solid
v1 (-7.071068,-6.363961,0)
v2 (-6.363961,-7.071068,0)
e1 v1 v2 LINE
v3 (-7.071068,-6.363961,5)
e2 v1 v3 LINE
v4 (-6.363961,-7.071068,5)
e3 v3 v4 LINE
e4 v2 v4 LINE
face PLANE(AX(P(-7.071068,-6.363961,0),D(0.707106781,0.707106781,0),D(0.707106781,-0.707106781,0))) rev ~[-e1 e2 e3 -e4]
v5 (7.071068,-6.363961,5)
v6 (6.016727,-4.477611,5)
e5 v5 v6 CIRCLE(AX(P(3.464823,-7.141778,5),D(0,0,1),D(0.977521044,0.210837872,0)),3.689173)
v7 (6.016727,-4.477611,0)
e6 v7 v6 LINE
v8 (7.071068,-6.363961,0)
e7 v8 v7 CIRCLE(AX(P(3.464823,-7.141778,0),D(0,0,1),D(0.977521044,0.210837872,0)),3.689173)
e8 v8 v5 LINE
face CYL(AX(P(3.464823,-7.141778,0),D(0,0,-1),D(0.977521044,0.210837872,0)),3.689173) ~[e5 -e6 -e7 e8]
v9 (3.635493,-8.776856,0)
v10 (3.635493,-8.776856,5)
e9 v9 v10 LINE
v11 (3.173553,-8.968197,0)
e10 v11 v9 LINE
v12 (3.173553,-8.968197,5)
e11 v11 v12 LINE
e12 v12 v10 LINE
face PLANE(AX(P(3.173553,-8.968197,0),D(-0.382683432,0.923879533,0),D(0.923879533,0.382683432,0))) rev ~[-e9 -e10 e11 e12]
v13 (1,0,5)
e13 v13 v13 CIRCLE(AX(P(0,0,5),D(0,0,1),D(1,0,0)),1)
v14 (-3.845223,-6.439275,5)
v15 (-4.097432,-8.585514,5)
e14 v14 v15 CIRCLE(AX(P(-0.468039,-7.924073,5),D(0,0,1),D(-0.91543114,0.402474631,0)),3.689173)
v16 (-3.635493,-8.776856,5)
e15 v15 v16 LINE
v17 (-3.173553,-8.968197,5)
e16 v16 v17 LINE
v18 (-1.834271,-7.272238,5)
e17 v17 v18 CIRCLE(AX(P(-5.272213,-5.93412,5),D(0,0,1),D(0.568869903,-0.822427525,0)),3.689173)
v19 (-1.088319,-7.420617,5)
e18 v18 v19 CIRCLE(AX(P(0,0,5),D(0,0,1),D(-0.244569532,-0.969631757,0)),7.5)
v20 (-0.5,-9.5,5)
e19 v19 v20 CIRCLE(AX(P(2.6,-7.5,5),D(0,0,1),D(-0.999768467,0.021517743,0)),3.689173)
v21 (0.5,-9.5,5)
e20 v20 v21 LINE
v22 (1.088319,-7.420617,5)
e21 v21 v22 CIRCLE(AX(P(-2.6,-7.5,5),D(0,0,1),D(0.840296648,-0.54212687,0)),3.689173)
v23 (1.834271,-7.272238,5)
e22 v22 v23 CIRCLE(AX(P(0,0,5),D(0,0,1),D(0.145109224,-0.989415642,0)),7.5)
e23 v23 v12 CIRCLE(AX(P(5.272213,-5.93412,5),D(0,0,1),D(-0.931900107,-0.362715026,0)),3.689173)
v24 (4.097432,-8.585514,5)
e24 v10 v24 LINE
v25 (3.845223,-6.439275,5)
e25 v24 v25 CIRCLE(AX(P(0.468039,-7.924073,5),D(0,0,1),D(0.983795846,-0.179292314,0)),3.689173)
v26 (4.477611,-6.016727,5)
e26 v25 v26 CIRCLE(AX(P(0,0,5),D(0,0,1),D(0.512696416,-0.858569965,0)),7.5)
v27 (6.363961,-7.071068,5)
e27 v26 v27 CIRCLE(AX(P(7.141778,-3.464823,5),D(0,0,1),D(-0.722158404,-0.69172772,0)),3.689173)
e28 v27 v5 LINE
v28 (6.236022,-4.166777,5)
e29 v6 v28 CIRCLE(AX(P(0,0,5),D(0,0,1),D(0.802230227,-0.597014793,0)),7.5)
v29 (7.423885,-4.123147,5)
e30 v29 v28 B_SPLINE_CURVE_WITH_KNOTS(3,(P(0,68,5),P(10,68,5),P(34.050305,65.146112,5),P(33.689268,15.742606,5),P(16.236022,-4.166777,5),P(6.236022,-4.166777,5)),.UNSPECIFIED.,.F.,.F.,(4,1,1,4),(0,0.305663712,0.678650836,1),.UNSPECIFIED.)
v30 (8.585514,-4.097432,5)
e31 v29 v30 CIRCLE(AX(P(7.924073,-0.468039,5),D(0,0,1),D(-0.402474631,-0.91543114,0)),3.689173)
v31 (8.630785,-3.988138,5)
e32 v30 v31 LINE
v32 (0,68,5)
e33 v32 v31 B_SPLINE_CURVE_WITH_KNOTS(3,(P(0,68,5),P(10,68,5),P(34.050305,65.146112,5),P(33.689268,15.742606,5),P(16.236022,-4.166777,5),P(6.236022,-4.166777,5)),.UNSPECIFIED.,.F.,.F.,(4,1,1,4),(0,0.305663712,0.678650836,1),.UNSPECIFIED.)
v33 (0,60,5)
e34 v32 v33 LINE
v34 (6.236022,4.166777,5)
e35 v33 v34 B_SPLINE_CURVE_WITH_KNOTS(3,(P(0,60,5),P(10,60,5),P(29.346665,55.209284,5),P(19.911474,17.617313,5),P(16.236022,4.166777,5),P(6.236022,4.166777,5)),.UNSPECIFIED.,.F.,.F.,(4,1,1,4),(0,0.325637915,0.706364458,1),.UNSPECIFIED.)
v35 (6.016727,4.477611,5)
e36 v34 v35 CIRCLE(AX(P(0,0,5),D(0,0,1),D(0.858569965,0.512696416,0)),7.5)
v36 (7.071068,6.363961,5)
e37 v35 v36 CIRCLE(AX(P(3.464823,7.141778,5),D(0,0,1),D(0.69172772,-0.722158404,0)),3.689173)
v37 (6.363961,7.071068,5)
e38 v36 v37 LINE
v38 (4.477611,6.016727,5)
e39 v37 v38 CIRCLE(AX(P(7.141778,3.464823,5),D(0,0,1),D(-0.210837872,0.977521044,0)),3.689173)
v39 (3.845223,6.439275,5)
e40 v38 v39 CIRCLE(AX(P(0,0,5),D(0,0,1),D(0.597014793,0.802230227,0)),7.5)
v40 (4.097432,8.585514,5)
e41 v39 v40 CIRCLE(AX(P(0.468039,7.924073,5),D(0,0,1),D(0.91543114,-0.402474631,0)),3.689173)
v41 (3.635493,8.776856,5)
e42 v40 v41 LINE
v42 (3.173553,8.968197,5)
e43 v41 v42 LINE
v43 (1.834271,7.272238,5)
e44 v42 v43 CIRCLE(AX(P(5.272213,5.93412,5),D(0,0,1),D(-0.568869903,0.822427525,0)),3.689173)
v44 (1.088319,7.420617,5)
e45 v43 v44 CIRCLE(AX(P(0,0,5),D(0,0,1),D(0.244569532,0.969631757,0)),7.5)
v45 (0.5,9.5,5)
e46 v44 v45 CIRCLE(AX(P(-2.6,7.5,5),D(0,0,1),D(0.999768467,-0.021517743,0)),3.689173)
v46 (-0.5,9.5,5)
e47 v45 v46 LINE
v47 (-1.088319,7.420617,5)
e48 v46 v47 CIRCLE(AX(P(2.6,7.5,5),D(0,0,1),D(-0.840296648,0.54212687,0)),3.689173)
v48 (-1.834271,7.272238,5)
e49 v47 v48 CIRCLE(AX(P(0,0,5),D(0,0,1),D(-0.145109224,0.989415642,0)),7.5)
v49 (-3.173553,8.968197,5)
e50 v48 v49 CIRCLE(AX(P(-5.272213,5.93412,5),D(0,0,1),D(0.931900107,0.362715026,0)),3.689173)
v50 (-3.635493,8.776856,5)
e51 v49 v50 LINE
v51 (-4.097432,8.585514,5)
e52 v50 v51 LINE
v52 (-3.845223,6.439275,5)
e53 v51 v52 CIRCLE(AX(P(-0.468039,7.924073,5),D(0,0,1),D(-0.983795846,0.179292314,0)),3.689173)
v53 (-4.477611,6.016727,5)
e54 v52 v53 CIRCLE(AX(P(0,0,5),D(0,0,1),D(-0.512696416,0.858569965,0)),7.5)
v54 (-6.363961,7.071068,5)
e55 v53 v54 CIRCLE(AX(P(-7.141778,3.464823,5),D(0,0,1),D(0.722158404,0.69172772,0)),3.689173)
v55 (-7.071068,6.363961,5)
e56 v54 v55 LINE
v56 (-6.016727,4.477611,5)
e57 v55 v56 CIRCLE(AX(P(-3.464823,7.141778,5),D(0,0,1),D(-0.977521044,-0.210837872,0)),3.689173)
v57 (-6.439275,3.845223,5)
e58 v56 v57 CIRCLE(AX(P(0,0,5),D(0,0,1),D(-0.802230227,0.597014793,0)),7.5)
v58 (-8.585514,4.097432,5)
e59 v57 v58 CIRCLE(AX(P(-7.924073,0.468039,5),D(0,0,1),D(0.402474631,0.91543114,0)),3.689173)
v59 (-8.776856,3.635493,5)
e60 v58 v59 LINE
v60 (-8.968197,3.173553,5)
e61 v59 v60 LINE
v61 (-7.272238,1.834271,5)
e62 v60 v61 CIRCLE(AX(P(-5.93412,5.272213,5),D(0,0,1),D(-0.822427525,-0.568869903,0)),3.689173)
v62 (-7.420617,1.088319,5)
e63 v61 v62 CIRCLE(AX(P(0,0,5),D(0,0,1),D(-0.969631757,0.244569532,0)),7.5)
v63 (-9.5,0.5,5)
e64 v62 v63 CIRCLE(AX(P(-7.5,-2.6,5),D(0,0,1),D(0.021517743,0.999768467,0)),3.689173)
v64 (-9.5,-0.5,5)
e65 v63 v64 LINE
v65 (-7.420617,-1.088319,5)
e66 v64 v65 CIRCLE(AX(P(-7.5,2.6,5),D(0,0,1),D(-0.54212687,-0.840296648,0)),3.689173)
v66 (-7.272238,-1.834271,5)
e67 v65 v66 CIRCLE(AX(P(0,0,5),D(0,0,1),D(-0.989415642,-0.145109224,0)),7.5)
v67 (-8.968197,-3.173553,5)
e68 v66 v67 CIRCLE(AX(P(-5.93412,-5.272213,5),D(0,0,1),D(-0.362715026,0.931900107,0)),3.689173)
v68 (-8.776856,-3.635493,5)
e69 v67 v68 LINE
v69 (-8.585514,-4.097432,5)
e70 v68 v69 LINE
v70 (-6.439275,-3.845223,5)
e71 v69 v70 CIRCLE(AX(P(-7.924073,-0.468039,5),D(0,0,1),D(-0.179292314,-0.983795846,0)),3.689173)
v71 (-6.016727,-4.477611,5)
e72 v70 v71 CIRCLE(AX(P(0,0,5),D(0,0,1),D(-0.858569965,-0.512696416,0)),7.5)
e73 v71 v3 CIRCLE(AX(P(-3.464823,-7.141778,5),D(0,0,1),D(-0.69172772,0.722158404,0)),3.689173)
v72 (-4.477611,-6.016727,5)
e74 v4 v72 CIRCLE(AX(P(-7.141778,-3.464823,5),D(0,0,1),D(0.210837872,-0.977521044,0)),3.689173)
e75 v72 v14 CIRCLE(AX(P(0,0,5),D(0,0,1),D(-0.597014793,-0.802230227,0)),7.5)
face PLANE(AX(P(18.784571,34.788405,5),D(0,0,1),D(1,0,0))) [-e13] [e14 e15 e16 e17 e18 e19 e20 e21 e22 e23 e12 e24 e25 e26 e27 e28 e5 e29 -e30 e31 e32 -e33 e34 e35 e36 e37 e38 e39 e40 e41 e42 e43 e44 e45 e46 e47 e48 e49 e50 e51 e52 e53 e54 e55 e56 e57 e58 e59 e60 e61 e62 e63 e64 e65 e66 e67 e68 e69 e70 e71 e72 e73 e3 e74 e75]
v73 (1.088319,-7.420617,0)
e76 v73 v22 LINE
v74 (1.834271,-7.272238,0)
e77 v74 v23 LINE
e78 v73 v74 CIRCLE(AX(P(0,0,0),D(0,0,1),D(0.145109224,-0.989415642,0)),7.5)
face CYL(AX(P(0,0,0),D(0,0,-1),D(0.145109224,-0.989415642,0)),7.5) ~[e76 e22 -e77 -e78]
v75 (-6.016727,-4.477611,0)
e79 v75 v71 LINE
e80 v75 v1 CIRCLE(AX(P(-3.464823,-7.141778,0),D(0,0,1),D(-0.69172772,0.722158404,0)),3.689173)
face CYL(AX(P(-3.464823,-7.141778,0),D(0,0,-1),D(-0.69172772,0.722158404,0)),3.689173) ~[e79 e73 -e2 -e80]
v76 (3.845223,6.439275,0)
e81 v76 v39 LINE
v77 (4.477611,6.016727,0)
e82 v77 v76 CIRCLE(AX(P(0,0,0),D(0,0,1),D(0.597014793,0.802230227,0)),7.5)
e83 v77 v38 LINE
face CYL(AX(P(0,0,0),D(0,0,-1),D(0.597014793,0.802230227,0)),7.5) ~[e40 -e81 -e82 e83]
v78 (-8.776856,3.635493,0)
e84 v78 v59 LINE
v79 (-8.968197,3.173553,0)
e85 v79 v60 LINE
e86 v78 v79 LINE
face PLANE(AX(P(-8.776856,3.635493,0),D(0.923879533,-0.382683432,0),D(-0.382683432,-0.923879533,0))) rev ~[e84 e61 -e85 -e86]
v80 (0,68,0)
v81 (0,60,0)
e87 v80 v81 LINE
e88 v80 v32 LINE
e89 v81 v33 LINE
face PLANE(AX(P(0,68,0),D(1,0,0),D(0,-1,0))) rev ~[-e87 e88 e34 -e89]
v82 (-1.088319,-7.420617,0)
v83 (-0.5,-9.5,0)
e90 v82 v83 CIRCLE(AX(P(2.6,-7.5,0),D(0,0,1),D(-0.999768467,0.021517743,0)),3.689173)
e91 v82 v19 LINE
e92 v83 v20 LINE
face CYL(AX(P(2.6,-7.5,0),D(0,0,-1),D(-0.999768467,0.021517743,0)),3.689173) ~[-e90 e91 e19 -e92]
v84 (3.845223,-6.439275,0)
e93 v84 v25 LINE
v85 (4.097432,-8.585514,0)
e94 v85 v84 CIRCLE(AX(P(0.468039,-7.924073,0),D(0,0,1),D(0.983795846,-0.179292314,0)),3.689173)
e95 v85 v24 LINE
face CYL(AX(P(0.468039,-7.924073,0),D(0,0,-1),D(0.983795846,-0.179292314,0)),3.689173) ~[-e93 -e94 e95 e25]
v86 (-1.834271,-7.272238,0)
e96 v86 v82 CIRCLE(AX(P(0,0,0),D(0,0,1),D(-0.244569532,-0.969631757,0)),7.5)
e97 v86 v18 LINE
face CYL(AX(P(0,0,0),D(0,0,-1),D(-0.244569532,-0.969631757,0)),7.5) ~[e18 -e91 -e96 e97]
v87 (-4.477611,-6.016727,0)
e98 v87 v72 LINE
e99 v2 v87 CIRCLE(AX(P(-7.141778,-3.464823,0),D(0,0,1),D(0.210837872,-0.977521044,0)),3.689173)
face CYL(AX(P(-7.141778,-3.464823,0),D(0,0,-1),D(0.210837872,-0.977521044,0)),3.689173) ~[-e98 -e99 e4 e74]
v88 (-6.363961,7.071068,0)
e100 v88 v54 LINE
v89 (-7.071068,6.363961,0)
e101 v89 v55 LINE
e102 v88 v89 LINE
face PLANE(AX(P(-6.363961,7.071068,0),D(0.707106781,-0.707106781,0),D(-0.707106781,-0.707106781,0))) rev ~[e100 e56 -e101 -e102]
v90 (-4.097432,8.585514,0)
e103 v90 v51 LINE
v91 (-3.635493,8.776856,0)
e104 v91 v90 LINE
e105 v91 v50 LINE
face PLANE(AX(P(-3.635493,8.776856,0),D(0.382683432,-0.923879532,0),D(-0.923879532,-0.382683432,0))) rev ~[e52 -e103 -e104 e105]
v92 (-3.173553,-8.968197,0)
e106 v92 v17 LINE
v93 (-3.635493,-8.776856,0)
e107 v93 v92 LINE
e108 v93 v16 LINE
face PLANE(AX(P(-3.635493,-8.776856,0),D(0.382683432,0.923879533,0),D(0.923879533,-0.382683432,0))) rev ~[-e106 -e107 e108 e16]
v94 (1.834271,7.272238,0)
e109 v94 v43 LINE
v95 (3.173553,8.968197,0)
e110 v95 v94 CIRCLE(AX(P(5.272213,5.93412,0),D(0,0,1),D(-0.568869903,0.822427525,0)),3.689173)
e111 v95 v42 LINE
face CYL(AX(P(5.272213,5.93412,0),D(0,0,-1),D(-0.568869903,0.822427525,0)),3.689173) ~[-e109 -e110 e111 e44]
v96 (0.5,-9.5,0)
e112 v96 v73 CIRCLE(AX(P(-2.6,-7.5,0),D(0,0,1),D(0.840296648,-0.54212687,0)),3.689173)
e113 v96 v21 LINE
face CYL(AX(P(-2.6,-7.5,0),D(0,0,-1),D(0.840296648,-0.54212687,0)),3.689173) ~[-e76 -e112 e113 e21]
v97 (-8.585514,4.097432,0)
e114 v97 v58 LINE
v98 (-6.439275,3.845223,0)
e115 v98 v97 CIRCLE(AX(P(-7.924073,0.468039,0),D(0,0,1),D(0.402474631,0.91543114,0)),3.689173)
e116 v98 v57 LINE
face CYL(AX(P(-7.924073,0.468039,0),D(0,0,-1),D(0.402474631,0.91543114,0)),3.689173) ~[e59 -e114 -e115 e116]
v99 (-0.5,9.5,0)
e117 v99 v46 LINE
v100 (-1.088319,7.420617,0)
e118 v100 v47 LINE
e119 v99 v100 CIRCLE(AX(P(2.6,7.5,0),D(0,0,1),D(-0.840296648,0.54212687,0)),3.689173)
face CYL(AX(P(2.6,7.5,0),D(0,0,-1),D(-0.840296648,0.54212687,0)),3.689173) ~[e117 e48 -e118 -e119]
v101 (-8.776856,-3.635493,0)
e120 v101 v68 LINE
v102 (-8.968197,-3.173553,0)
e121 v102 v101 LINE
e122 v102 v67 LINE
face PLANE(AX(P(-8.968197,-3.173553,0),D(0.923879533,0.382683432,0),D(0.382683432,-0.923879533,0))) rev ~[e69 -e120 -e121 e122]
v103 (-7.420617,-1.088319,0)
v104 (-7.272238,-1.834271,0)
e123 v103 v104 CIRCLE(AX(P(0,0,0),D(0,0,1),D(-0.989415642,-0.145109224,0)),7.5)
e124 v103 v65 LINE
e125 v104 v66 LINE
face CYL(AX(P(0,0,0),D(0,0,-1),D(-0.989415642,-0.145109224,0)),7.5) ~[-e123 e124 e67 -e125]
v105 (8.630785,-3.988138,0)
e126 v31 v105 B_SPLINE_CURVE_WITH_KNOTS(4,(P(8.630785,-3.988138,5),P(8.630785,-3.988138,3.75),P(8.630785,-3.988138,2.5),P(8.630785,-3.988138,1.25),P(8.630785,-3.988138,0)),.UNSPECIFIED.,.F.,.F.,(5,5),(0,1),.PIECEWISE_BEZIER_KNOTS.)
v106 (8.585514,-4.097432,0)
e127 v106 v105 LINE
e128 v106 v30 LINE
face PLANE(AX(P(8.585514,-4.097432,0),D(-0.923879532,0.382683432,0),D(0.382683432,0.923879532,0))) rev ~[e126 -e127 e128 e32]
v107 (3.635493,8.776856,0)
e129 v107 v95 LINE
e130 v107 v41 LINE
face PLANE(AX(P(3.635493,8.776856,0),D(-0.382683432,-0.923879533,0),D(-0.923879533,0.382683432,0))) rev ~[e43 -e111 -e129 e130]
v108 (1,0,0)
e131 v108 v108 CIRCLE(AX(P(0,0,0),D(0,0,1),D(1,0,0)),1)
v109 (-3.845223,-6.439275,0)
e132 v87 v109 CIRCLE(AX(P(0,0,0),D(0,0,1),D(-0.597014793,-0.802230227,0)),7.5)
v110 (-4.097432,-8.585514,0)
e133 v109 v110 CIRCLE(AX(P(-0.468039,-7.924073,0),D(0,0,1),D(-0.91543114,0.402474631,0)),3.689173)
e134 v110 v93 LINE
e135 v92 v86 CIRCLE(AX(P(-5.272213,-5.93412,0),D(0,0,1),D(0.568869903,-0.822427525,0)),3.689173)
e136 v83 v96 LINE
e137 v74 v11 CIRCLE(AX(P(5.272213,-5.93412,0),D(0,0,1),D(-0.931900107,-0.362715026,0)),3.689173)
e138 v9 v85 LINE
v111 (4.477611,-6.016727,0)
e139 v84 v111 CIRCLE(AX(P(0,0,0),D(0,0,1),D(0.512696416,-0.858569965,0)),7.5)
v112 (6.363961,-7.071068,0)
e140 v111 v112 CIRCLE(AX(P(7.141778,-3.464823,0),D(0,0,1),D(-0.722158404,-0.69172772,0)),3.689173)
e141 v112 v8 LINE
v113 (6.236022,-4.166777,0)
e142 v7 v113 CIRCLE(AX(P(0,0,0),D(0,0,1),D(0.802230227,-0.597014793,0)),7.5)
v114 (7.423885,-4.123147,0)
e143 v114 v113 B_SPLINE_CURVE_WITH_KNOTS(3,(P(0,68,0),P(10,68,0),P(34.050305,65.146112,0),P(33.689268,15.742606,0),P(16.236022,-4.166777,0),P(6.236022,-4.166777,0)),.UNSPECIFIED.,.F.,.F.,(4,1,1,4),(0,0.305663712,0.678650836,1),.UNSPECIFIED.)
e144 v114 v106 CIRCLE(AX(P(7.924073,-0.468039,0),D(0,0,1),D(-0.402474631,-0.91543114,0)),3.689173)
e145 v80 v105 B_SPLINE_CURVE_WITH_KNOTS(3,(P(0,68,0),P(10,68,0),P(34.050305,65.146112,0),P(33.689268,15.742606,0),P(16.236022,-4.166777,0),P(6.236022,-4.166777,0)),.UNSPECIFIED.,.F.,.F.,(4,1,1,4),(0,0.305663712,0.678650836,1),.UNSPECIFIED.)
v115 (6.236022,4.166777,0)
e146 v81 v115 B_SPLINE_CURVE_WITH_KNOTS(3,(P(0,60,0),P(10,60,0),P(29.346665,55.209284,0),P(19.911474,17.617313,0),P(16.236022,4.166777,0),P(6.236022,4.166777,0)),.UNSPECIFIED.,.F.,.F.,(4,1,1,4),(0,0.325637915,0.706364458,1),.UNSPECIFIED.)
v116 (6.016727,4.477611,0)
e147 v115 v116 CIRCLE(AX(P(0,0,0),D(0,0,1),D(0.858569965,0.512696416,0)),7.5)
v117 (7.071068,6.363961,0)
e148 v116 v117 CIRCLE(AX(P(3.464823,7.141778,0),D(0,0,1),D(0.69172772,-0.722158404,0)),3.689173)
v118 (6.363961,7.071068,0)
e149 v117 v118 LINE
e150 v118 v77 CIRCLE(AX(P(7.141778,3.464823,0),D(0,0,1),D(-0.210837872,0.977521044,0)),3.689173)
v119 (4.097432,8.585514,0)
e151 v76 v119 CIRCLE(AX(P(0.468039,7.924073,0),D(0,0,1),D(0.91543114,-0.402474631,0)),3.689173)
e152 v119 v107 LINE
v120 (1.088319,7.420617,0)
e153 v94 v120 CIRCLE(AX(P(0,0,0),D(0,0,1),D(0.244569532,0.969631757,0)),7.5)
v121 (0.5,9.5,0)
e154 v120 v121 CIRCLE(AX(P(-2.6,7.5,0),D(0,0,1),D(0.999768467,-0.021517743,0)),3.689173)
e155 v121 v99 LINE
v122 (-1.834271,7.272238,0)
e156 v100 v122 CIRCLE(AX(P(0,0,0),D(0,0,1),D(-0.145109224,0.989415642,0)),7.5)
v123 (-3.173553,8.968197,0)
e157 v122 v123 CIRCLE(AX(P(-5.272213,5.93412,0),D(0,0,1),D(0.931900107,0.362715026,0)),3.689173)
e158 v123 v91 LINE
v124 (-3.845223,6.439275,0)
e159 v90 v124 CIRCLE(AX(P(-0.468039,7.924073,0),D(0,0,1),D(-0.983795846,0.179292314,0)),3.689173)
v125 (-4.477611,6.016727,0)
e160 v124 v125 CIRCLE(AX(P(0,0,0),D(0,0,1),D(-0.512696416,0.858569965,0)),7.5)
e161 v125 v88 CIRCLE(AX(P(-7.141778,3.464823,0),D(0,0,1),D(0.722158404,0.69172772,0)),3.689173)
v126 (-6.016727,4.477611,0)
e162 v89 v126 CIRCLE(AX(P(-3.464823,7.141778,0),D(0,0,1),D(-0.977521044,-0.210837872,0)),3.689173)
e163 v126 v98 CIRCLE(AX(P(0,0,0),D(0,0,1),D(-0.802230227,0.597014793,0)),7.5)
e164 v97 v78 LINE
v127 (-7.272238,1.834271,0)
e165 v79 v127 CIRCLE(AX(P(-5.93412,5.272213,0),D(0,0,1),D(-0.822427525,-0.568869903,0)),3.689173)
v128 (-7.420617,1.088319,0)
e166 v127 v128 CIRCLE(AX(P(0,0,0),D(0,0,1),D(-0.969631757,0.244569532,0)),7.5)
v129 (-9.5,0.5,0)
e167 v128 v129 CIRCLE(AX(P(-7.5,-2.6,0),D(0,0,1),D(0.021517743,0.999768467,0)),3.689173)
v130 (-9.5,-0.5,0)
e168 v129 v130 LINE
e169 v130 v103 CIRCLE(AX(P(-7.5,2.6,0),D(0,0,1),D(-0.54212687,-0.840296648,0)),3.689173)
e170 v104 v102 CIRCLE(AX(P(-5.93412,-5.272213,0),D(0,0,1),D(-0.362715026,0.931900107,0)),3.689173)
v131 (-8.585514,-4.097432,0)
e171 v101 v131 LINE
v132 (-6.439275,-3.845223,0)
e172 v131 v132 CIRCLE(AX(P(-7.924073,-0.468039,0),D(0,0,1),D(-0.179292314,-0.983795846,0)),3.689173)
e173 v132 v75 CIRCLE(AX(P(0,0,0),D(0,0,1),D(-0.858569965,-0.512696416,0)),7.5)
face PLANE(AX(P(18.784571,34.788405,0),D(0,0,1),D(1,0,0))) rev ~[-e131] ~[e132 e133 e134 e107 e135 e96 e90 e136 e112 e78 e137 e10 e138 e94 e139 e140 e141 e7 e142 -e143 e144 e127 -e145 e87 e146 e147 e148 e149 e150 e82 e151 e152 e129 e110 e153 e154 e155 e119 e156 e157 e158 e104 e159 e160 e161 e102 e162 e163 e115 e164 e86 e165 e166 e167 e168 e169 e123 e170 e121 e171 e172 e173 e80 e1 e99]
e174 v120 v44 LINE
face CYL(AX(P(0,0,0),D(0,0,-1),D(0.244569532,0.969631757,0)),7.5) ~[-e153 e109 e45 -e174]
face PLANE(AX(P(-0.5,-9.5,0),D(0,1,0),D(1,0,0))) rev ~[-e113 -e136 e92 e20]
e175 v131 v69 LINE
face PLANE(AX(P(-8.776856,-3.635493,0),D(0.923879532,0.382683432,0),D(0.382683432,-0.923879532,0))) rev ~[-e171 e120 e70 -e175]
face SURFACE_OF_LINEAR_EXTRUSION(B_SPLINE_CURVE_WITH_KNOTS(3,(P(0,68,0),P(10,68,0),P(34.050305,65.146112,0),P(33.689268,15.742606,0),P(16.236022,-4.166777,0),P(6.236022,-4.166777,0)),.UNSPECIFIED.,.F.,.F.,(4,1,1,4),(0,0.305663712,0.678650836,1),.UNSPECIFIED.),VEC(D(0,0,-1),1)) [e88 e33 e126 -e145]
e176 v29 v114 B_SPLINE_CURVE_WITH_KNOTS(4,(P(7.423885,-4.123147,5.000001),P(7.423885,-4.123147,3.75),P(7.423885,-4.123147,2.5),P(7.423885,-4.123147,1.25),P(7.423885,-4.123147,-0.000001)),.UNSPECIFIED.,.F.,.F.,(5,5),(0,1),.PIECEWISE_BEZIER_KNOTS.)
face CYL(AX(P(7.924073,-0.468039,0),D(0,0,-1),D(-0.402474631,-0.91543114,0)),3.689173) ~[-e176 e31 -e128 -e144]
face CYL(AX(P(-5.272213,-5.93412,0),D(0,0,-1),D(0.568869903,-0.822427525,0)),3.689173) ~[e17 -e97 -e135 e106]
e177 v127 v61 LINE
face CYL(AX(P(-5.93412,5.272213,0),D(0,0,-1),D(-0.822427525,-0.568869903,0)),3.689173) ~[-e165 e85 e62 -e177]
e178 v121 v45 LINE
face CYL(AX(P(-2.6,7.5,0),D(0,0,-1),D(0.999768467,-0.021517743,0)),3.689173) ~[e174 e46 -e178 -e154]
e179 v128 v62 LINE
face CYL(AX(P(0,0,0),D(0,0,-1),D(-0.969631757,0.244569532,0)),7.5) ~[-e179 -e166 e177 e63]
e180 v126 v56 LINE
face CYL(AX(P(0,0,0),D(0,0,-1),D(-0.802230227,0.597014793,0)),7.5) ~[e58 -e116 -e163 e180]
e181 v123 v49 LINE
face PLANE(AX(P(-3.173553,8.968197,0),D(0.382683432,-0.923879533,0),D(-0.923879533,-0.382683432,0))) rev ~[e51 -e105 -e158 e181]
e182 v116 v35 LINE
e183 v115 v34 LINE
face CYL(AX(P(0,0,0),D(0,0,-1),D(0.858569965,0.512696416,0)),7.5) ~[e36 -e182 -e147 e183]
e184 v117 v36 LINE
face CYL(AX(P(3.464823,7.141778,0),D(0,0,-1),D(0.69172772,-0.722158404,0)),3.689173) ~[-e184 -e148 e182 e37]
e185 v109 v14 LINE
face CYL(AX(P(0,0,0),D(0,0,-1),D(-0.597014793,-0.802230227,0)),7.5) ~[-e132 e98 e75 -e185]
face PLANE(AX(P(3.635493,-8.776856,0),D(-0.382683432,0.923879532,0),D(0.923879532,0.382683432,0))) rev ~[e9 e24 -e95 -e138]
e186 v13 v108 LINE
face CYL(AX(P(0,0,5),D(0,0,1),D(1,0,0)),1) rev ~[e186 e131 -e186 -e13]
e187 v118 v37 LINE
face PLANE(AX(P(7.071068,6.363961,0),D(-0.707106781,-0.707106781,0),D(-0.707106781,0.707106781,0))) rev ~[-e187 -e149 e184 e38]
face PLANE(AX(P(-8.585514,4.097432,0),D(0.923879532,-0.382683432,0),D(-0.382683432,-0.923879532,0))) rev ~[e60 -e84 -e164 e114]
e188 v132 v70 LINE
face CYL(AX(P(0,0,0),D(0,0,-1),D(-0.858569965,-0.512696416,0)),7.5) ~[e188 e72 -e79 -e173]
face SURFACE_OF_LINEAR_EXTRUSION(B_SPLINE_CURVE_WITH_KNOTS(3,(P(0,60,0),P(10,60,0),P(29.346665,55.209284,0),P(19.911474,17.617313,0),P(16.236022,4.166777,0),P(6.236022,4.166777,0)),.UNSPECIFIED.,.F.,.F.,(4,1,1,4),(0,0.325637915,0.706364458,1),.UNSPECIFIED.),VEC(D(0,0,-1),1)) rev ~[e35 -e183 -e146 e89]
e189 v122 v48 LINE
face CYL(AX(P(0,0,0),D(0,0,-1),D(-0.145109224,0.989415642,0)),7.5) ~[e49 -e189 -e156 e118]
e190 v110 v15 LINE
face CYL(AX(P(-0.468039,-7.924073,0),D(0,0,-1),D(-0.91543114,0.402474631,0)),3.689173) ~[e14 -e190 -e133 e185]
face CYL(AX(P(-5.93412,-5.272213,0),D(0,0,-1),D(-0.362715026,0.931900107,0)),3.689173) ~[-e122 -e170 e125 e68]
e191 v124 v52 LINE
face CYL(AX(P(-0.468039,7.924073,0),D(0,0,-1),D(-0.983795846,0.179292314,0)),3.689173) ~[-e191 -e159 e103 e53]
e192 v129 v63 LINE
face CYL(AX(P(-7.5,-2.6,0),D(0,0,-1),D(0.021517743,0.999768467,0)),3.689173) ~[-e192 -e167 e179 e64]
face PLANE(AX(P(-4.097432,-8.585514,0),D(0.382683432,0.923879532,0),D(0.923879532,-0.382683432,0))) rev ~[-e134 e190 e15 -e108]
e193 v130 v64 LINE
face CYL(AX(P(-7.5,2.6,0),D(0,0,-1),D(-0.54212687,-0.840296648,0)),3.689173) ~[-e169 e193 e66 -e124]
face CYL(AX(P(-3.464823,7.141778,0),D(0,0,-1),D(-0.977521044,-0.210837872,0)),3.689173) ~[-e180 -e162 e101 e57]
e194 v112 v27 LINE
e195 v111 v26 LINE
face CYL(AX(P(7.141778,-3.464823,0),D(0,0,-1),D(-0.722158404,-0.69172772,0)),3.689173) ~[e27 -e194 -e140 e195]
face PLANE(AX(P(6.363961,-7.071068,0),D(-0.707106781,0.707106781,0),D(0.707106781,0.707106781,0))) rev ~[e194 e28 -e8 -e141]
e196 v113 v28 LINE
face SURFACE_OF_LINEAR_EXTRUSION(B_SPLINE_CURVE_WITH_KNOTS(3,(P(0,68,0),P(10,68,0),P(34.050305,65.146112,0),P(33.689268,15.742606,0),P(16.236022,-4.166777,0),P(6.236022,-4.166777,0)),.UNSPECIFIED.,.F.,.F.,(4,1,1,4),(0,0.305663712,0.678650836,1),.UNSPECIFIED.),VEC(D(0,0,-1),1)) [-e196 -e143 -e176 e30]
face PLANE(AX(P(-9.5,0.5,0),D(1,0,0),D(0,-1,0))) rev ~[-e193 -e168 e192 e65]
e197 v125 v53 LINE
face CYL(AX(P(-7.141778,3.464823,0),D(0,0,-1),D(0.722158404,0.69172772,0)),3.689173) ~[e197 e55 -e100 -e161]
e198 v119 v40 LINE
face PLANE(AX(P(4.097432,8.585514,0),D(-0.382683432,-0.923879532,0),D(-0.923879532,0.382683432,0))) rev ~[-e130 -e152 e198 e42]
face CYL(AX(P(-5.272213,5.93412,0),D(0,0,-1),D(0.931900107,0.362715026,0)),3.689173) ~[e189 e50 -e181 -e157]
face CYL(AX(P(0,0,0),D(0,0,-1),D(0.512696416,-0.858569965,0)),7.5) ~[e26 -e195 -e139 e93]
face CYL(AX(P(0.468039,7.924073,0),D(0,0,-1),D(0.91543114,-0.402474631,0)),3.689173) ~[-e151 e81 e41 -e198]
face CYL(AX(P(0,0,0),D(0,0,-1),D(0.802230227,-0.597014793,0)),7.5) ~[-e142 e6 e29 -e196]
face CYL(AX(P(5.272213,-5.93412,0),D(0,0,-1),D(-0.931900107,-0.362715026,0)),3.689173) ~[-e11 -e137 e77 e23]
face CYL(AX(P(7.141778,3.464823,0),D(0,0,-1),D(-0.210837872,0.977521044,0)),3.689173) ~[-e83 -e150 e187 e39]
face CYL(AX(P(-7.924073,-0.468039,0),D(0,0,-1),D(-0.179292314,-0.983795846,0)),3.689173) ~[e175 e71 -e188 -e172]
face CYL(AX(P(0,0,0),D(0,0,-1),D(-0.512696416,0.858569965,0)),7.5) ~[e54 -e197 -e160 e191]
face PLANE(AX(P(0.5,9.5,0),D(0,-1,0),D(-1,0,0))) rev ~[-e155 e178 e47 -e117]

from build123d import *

# Parameters (mm, degrees)
F1_DEPTH = 5
F2_R     = 1
F3_DEPTH = 5.001
F5_DEPTH = 5


with BuildPart() as f1:
    # F0 (on Top) → F1 (new body)
    with BuildSketch(Plane.XY):
        with BuildLine():
            ThreePointArc((7.4206173165, -1.0883191822), (7.4801280027, -0.5456052265), (7.5, 0))
            ThreePointArc((7.5, 0), (7.4801280027, 0.5456052265), (7.4206173165, 1.0883191822))
            ThreePointArc((7.4206173165, 1.0883191822), (7.355889603, 1.4631774151), (7.2722381774, 1.8342714877))
            ThreePointArc((7.2722381774, 1.8342714877), (6.9290964938, 2.8701257427), (6.4392747372, 3.8452231222))
            ThreePointArc((6.4392747372, 3.8452231222), (6.2360220923, 4.1667767476), (6.0167266989, 4.4776109513))
            ThreePointArc((6.0167266989, 4.4776109513), (5.3033008589, 5.3033008589), (4.4776109513, 6.0167266989))
            ThreePointArc((4.4776109513, 6.0167266989), (4.1667767476, 6.2360220923), (3.8452231222, 6.4392747372))
            ThreePointArc((3.8452231222, 6.4392747372), (2.8701257427, 6.9290964938), (1.8342714877, 7.2722381774))
            ThreePointArc((1.8342714877, 7.2722381774), (1.4631774151, 7.355889603), (1.0883191822, 7.4206173165))
            ThreePointArc((1.0883191822, 7.4206173165), (0, 7.5), (-1.0883191822, 7.4206173165))
            ThreePointArc((-1.0883191822, 7.4206173165), (-1.4631774151, 7.355889603), (-1.8342714877, 7.2722381774))
            ThreePointArc((-1.8342714877, 7.2722381774), (-2.8701257427, 6.9290964938), (-3.8452231222, 6.4392747372))
            ThreePointArc((-3.8452231222, 6.4392747372), (-4.1667767476, 6.2360220923), (-4.4776109513, 6.0167266989))
            ThreePointArc((-4.4776109513, 6.0167266989), (-5.3033008589, 5.3033008589), (-6.0167266989, 4.4776109513))
            ThreePointArc((-6.0167266989, 4.4776109513), (-6.2360220923, 4.1667767476), (-6.4392747372, 3.8452231222))
            ThreePointArc((-6.4392747372, 3.8452231222), (-6.9290964938, 2.8701257427), (-7.2722381774, 1.8342714877))
            ThreePointArc((-7.2722381774, 1.8342714877), (-7.355889603, 1.4631774151), (-7.4206173165, 1.0883191822))
            ThreePointArc((-7.4206173165, 1.0883191822), (-7.5, 0), (-7.4206173165, -1.0883191822))
            ThreePointArc((-7.4206173165, -1.0883191822), (-7.355889603, -1.4631774151), (-7.2722381774, -1.8342714877))
            ThreePointArc((-7.2722381774, -1.8342714877), (-6.9290964938, -2.8701257427), (-6.4392747372, -3.8452231222))
            ThreePointArc((-6.4392747372, -3.8452231222), (-6.2360220923, -4.1667767476), (-6.0167266989, -4.4776109513))
            ThreePointArc((-6.0167266989, -4.4776109513), (-5.3033008589, -5.3033008589), (-4.4776109513, -6.0167266989))
            ThreePointArc((-4.4776109513, -6.0167266989), (-4.1667767476, -6.2360220923), (-3.8452231222, -6.4392747372))
            ThreePointArc((-3.8452231222, -6.4392747372), (-2.8701257427, -6.9290964938), (-1.8342714877, -7.2722381774))
            ThreePointArc((-1.8342714877, -7.2722381774), (-1.4631774151, -7.355889603), (-1.0883191822, -7.4206173165))
            ThreePointArc((-1.0883191822, -7.4206173165), (0, -7.5), (1.0883191822, -7.4206173165))
            ThreePointArc((1.0883191822, -7.4206173165), (1.4631774151, -7.355889603), (1.8342714877, -7.2722381774))
            ThreePointArc((1.8342714877, -7.2722381774), (2.8701257427, -6.9290964938), (3.8452231222, -6.4392747372))
            ThreePointArc((3.8452231222, -6.4392747372), (4.1667767476, -6.2360220923), (4.4776109513, -6.0167266989))
            ThreePointArc((4.4776109513, -6.0167266989), (5.3033008589, -5.3033008589), (6.0167266989, -4.4776109513))
            ThreePointArc((6.0167266989, -4.4776109513), (6.2360220923, -4.1667767476), (6.4392747372, -3.8452231222))
            ThreePointArc((6.4392747372, -3.8452231222), (6.9290964938, -2.8701257427), (7.2722381774, -1.8342714877))
            ThreePointArc((7.2722381774, -1.8342714877), (7.355889603, -1.4631774151), (7.4206173165, -1.0883191822))
        make_face()
        with BuildLine():
            ThreePointArc((7.4206173165, 1.0883191822), (7.4801280027, 0.5456052265), (7.5, 0))
            ThreePointArc((7.5, 0), (7.4801280027, -0.5456052265), (7.4206173165, -1.0883191822))
            ThreePointArc((7.4206173165, -1.0883191822), (8.5043518229, -0.9498278009), (9.5, -0.5))
            Line((9.5, -0.5), (9.5, 0))
            Line((9.5, 0), (9.5, 0.5))
            ThreePointArc((9.5, 0.5), (8.5043518229, 0.9498278009), (7.4206173165, 1.0883191822))
        make_face()
        with BuildLine():
            ThreePointArc((6.4392747372, 3.8452231222), (6.9290964938, 2.8701257427), (7.2722381774, 1.8342714877))
            ThreePointArc((7.2722381774, 1.8342714877), (8.2204799494, 2.376948081), (8.968197275, 3.1735528412))
            Line((8.968197275, 3.1735528412), (8.7768555589, 3.6354926075))
            Line((8.7768555589, 3.6354926075), (8.5855138427, 4.0974323737))
            ThreePointArc((8.5855138427, 4.0974323737), (7.4935132234, 4.1320010103), (6.4392747372, 3.8452231222))
        make_face()
        with BuildLine():
            ThreePointArc((8.968197275, -3.1735528412), (8.2204799494, -2.376948081), (7.2722381774, -1.8342714877))
            ThreePointArc((7.2722381774, -1.8342714877), (6.9290964938, -2.8701257427), (6.4392747372, -3.8452231222))
            ThreePointArc((6.4392747372, -3.8452231222), (7.4935132234, -4.1320010103), (8.5855138427, -4.0974323737))
            Line((8.5855138427, -4.0974323737), (8.7768555589, -3.6354926075))
            Line((8.7768555589, -3.6354926075), (8.968197275, -3.1735528412))
        make_face()
        with BuildLine():
            ThreePointArc((4.4776109513, 6.0167266989), (5.3033008589, 5.3033008589), (6.0167266989, 4.4776109513))
            ThreePointArc((6.0167266989, 4.4776109513), (6.6851145225, 5.3418551646), (7.0710678119, 6.3639610307))
            Line((7.0710678119, 6.3639610307), (6.7175144213, 6.7175144213))
            Line((6.7175144213, 6.7175144213), (6.3639610307, 7.0710678119))
            ThreePointArc((6.3639610307, 7.0710678119), (5.3418551646, 6.6851145225), (4.4776109513, 6.0167266989))
        make_face()
        with BuildLine():
            ThreePointArc((7.0710678119, -6.3639610307), (6.6851145225, -5.3418551646), (6.0167266989, -4.4776109513))
            ThreePointArc((6.0167266989, -4.4776109513), (5.3033008589, -5.3033008589), (4.4776109513, -6.0167266989))
            ThreePointArc((4.4776109513, -6.0167266989), (5.3418551646, -6.6851145225), (6.3639610307, -7.0710678119))
            Line((6.3639610307, -7.0710678119), (6.7175144213, -6.7175144213))
            Line((6.7175144213, -6.7175144213), (7.0710678119, -6.3639610307))
        make_face()
        with BuildLine():
            ThreePointArc((1.8342714877, 7.2722381774), (2.8701257427, 6.9290964938), (3.8452231222, 6.4392747372))
            ThreePointArc((3.8452231222, 6.4392747372), (4.1320010103, 7.4935132234), (4.0974323737, 8.5855138427))
            Line((4.0974323737, 8.5855138427), (3.6354926075, 8.7768555589))
            Line((3.6354926075, 8.7768555589), (3.1735528412, 8.968197275))
            ThreePointArc((3.1735528412, 8.968197275), (2.376948081, 8.2204799494), (1.8342714877, 7.2722381774))
        make_face()
        with BuildLine():
            ThreePointArc((4.0974323737, -8.5855138427), (4.1320010103, -7.4935132234), (3.8452231222, -6.4392747372))
            ThreePointArc((3.8452231222, -6.4392747372), (2.8701257427, -6.9290964938), (1.8342714877, -7.2722381774))
            ThreePointArc((1.8342714877, -7.2722381774), (2.376948081, -8.2204799494), (3.1735528412, -8.968197275))
            Line((3.1735528412, -8.968197275), (3.6354926075, -8.7768555589))
            Line((3.6354926075, -8.7768555589), (4.0974323737, -8.5855138427))
        make_face()
        with BuildLine():
            ThreePointArc((-1.0883191822, 7.4206173165), (0, 7.5), (1.0883191822, 7.4206173165))
            ThreePointArc((1.0883191822, 7.4206173165), (0.9498278009, 8.5043518229), (0.5, 9.5))
            Line((0.5, 9.5), (0, 9.5))
            Line((0, 9.5), (-0.5, 9.5))
            ThreePointArc((-0.5, 9.5), (-0.9498278009, 8.5043518229), (-1.0883191822, 7.4206173165))
        make_face()
        with BuildLine():
            ThreePointArc((0.5, -9.5), (0.9498278009, -8.5043518229), (1.0883191822, -7.4206173165))
            ThreePointArc((1.0883191822, -7.4206173165), (0, -7.5), (-1.0883191822, -7.4206173165))
            ThreePointArc((-1.0883191822, -7.4206173165), (-0.9498278009, -8.5043518229), (-0.5, -9.5))
            Line((-0.5, -9.5), (0, -9.5))
            Line((0, -9.5), (0.5, -9.5))
        make_face()
        with BuildLine():
            ThreePointArc((-3.8452231222, 6.4392747372), (-2.8701257427, 6.9290964938), (-1.8342714877, 7.2722381774))
            ThreePointArc((-1.8342714877, 7.2722381774), (-2.376948081, 8.2204799494), (-3.1735528412, 8.968197275))
            Line((-3.1735528412, 8.968197275), (-3.6354926075, 8.7768555589))
            Line((-3.6354926075, 8.7768555589), (-4.0974323737, 8.5855138427))
            ThreePointArc((-4.0974323737, 8.5855138427), (-4.1320010103, 7.4935132234), (-3.8452231222, 6.4392747372))
        make_face()
        with BuildLine():
            ThreePointArc((-3.1735528412, -8.968197275), (-2.376948081, -8.2204799494), (-1.8342714877, -7.2722381774))
            ThreePointArc((-1.8342714877, -7.2722381774), (-2.8701257427, -6.9290964938), (-3.8452231222, -6.4392747372))
            ThreePointArc((-3.8452231222, -6.4392747372), (-4.1320010103, -7.4935132234), (-4.0974323737, -8.5855138427))
            Line((-4.0974323737, -8.5855138427), (-3.6354926075, -8.7768555589))
            Line((-3.6354926075, -8.7768555589), (-3.1735528412, -8.968197275))
        make_face()
        with BuildLine():
            ThreePointArc((-6.0167266989, 4.4776109513), (-5.3033008589, 5.3033008589), (-4.4776109513, 6.0167266989))
            ThreePointArc((-4.4776109513, 6.0167266989), (-5.3418551646, 6.6851145225), (-6.3639610307, 7.0710678119))
            Line((-6.3639610307, 7.0710678119), (-6.7175144213, 6.7175144213))
            Line((-6.7175144213, 6.7175144213), (-7.0710678119, 6.3639610307))
            ThreePointArc((-7.0710678119, 6.3639610307), (-6.6851145225, 5.3418551646), (-6.0167266989, 4.4776109513))
        make_face()
        with BuildLine():
            ThreePointArc((-6.3639610307, -7.0710678119), (-5.3418551646, -6.6851145225), (-4.4776109513, -6.0167266989))
            ThreePointArc((-4.4776109513, -6.0167266989), (-5.3033008589, -5.3033008589), (-6.0167266989, -4.4776109513))
            ThreePointArc((-6.0167266989, -4.4776109513), (-6.6851145225, -5.3418551646), (-7.0710678119, -6.3639610307))
            Line((-7.0710678119, -6.3639610307), (-6.7175144213, -6.7175144213))
            Line((-6.7175144213, -6.7175144213), (-6.3639610307, -7.0710678119))
        make_face()
        with BuildLine():
            ThreePointArc((-7.2722381774, 1.8342714877), (-6.9290964938, 2.8701257427), (-6.4392747372, 3.8452231222))
            ThreePointArc((-6.4392747372, 3.8452231222), (-7.4935132234, 4.1320010103), (-8.5855138427, 4.0974323737))
            Line((-8.5855138427, 4.0974323737), (-8.7768555589, 3.6354926075))
            Line((-8.7768555589, 3.6354926075), (-8.968197275, 3.1735528412))
            ThreePointArc((-8.968197275, 3.1735528412), (-8.2204799494, 2.376948081), (-7.2722381774, 1.8342714877))
        make_face()
        with BuildLine():
            ThreePointArc((-8.5855138427, -4.0974323737), (-7.4935132234, -4.1320010103), (-6.4392747372, -3.8452231222))
            ThreePointArc((-6.4392747372, -3.8452231222), (-6.9290964938, -2.8701257427), (-7.2722381774, -1.8342714877))
            ThreePointArc((-7.2722381774, -1.8342714877), (-8.2204799494, -2.376948081), (-8.968197275, -3.1735528412))
            Line((-8.968197275, -3.1735528412), (-8.7768555589, -3.6354926075))
            Line((-8.7768555589, -3.6354926075), (-8.5855138427, -4.0974323737))
        make_face()
        with BuildLine():
            ThreePointArc((-7.4206173165, -1.0883191822), (-7.5, 0), (-7.4206173165, 1.0883191822))
            ThreePointArc((-7.4206173165, 1.0883191822), (-8.5043518229, 0.9498278009), (-9.5, 0.5))
            Line((-9.5, 0.5), (-9.5, 0))
            Line((-9.5, 0), (-9.5, -0.5))
            ThreePointArc((-9.5, -0.5), (-8.5043518229, -0.9498278009), (-7.4206173165, -1.0883191822))
        make_face()
    extrude(amount=F1_DEPTH)

    # F2 (on face) → F3 (cut, through all)
    with BuildSketch(Plane.XY.offset(5)):
        Circle(F2_R)
    extrude(amount=-F3_DEPTH, mode=Mode.SUBTRACT)

    # F4 (on Top) → F5 (join, through all)
    with BuildSketch(Plane.XY):
        with BuildLine():
            Line((0, 68), (0, 60))
            add(Edge.make_bspline(
                [(0, 60), (10, 60), (29.3466646239, 55.2092842401), (19.911473837, 17.6173132233), (16.2360220923, 4.1667767476), (6.2360220923, 4.1667767476)],
                knots=[0, 0, 0, 0, 0.3256379151, 0.7063644579, 1, 1, 1, 1], degree=3))
            Line((6.2360220923, 4.1667767476), (6.2360220923, -4.1667767476))
            add(Edge.make_bspline(
                [(0, 68), (10, 68), (34.0503046573, 65.1461115539), (33.6892675607, 15.742605531), (16.2360220923, -4.1667767476), (6.2360220923, -4.1667767476)],
                knots=[0, 0, 0, 0, 0.3056637116, 0.6786508364, 1, 1, 1, 1], degree=3))
        make_face()
    extrude(amount=F5_DEPTH)


solid = f1.part
